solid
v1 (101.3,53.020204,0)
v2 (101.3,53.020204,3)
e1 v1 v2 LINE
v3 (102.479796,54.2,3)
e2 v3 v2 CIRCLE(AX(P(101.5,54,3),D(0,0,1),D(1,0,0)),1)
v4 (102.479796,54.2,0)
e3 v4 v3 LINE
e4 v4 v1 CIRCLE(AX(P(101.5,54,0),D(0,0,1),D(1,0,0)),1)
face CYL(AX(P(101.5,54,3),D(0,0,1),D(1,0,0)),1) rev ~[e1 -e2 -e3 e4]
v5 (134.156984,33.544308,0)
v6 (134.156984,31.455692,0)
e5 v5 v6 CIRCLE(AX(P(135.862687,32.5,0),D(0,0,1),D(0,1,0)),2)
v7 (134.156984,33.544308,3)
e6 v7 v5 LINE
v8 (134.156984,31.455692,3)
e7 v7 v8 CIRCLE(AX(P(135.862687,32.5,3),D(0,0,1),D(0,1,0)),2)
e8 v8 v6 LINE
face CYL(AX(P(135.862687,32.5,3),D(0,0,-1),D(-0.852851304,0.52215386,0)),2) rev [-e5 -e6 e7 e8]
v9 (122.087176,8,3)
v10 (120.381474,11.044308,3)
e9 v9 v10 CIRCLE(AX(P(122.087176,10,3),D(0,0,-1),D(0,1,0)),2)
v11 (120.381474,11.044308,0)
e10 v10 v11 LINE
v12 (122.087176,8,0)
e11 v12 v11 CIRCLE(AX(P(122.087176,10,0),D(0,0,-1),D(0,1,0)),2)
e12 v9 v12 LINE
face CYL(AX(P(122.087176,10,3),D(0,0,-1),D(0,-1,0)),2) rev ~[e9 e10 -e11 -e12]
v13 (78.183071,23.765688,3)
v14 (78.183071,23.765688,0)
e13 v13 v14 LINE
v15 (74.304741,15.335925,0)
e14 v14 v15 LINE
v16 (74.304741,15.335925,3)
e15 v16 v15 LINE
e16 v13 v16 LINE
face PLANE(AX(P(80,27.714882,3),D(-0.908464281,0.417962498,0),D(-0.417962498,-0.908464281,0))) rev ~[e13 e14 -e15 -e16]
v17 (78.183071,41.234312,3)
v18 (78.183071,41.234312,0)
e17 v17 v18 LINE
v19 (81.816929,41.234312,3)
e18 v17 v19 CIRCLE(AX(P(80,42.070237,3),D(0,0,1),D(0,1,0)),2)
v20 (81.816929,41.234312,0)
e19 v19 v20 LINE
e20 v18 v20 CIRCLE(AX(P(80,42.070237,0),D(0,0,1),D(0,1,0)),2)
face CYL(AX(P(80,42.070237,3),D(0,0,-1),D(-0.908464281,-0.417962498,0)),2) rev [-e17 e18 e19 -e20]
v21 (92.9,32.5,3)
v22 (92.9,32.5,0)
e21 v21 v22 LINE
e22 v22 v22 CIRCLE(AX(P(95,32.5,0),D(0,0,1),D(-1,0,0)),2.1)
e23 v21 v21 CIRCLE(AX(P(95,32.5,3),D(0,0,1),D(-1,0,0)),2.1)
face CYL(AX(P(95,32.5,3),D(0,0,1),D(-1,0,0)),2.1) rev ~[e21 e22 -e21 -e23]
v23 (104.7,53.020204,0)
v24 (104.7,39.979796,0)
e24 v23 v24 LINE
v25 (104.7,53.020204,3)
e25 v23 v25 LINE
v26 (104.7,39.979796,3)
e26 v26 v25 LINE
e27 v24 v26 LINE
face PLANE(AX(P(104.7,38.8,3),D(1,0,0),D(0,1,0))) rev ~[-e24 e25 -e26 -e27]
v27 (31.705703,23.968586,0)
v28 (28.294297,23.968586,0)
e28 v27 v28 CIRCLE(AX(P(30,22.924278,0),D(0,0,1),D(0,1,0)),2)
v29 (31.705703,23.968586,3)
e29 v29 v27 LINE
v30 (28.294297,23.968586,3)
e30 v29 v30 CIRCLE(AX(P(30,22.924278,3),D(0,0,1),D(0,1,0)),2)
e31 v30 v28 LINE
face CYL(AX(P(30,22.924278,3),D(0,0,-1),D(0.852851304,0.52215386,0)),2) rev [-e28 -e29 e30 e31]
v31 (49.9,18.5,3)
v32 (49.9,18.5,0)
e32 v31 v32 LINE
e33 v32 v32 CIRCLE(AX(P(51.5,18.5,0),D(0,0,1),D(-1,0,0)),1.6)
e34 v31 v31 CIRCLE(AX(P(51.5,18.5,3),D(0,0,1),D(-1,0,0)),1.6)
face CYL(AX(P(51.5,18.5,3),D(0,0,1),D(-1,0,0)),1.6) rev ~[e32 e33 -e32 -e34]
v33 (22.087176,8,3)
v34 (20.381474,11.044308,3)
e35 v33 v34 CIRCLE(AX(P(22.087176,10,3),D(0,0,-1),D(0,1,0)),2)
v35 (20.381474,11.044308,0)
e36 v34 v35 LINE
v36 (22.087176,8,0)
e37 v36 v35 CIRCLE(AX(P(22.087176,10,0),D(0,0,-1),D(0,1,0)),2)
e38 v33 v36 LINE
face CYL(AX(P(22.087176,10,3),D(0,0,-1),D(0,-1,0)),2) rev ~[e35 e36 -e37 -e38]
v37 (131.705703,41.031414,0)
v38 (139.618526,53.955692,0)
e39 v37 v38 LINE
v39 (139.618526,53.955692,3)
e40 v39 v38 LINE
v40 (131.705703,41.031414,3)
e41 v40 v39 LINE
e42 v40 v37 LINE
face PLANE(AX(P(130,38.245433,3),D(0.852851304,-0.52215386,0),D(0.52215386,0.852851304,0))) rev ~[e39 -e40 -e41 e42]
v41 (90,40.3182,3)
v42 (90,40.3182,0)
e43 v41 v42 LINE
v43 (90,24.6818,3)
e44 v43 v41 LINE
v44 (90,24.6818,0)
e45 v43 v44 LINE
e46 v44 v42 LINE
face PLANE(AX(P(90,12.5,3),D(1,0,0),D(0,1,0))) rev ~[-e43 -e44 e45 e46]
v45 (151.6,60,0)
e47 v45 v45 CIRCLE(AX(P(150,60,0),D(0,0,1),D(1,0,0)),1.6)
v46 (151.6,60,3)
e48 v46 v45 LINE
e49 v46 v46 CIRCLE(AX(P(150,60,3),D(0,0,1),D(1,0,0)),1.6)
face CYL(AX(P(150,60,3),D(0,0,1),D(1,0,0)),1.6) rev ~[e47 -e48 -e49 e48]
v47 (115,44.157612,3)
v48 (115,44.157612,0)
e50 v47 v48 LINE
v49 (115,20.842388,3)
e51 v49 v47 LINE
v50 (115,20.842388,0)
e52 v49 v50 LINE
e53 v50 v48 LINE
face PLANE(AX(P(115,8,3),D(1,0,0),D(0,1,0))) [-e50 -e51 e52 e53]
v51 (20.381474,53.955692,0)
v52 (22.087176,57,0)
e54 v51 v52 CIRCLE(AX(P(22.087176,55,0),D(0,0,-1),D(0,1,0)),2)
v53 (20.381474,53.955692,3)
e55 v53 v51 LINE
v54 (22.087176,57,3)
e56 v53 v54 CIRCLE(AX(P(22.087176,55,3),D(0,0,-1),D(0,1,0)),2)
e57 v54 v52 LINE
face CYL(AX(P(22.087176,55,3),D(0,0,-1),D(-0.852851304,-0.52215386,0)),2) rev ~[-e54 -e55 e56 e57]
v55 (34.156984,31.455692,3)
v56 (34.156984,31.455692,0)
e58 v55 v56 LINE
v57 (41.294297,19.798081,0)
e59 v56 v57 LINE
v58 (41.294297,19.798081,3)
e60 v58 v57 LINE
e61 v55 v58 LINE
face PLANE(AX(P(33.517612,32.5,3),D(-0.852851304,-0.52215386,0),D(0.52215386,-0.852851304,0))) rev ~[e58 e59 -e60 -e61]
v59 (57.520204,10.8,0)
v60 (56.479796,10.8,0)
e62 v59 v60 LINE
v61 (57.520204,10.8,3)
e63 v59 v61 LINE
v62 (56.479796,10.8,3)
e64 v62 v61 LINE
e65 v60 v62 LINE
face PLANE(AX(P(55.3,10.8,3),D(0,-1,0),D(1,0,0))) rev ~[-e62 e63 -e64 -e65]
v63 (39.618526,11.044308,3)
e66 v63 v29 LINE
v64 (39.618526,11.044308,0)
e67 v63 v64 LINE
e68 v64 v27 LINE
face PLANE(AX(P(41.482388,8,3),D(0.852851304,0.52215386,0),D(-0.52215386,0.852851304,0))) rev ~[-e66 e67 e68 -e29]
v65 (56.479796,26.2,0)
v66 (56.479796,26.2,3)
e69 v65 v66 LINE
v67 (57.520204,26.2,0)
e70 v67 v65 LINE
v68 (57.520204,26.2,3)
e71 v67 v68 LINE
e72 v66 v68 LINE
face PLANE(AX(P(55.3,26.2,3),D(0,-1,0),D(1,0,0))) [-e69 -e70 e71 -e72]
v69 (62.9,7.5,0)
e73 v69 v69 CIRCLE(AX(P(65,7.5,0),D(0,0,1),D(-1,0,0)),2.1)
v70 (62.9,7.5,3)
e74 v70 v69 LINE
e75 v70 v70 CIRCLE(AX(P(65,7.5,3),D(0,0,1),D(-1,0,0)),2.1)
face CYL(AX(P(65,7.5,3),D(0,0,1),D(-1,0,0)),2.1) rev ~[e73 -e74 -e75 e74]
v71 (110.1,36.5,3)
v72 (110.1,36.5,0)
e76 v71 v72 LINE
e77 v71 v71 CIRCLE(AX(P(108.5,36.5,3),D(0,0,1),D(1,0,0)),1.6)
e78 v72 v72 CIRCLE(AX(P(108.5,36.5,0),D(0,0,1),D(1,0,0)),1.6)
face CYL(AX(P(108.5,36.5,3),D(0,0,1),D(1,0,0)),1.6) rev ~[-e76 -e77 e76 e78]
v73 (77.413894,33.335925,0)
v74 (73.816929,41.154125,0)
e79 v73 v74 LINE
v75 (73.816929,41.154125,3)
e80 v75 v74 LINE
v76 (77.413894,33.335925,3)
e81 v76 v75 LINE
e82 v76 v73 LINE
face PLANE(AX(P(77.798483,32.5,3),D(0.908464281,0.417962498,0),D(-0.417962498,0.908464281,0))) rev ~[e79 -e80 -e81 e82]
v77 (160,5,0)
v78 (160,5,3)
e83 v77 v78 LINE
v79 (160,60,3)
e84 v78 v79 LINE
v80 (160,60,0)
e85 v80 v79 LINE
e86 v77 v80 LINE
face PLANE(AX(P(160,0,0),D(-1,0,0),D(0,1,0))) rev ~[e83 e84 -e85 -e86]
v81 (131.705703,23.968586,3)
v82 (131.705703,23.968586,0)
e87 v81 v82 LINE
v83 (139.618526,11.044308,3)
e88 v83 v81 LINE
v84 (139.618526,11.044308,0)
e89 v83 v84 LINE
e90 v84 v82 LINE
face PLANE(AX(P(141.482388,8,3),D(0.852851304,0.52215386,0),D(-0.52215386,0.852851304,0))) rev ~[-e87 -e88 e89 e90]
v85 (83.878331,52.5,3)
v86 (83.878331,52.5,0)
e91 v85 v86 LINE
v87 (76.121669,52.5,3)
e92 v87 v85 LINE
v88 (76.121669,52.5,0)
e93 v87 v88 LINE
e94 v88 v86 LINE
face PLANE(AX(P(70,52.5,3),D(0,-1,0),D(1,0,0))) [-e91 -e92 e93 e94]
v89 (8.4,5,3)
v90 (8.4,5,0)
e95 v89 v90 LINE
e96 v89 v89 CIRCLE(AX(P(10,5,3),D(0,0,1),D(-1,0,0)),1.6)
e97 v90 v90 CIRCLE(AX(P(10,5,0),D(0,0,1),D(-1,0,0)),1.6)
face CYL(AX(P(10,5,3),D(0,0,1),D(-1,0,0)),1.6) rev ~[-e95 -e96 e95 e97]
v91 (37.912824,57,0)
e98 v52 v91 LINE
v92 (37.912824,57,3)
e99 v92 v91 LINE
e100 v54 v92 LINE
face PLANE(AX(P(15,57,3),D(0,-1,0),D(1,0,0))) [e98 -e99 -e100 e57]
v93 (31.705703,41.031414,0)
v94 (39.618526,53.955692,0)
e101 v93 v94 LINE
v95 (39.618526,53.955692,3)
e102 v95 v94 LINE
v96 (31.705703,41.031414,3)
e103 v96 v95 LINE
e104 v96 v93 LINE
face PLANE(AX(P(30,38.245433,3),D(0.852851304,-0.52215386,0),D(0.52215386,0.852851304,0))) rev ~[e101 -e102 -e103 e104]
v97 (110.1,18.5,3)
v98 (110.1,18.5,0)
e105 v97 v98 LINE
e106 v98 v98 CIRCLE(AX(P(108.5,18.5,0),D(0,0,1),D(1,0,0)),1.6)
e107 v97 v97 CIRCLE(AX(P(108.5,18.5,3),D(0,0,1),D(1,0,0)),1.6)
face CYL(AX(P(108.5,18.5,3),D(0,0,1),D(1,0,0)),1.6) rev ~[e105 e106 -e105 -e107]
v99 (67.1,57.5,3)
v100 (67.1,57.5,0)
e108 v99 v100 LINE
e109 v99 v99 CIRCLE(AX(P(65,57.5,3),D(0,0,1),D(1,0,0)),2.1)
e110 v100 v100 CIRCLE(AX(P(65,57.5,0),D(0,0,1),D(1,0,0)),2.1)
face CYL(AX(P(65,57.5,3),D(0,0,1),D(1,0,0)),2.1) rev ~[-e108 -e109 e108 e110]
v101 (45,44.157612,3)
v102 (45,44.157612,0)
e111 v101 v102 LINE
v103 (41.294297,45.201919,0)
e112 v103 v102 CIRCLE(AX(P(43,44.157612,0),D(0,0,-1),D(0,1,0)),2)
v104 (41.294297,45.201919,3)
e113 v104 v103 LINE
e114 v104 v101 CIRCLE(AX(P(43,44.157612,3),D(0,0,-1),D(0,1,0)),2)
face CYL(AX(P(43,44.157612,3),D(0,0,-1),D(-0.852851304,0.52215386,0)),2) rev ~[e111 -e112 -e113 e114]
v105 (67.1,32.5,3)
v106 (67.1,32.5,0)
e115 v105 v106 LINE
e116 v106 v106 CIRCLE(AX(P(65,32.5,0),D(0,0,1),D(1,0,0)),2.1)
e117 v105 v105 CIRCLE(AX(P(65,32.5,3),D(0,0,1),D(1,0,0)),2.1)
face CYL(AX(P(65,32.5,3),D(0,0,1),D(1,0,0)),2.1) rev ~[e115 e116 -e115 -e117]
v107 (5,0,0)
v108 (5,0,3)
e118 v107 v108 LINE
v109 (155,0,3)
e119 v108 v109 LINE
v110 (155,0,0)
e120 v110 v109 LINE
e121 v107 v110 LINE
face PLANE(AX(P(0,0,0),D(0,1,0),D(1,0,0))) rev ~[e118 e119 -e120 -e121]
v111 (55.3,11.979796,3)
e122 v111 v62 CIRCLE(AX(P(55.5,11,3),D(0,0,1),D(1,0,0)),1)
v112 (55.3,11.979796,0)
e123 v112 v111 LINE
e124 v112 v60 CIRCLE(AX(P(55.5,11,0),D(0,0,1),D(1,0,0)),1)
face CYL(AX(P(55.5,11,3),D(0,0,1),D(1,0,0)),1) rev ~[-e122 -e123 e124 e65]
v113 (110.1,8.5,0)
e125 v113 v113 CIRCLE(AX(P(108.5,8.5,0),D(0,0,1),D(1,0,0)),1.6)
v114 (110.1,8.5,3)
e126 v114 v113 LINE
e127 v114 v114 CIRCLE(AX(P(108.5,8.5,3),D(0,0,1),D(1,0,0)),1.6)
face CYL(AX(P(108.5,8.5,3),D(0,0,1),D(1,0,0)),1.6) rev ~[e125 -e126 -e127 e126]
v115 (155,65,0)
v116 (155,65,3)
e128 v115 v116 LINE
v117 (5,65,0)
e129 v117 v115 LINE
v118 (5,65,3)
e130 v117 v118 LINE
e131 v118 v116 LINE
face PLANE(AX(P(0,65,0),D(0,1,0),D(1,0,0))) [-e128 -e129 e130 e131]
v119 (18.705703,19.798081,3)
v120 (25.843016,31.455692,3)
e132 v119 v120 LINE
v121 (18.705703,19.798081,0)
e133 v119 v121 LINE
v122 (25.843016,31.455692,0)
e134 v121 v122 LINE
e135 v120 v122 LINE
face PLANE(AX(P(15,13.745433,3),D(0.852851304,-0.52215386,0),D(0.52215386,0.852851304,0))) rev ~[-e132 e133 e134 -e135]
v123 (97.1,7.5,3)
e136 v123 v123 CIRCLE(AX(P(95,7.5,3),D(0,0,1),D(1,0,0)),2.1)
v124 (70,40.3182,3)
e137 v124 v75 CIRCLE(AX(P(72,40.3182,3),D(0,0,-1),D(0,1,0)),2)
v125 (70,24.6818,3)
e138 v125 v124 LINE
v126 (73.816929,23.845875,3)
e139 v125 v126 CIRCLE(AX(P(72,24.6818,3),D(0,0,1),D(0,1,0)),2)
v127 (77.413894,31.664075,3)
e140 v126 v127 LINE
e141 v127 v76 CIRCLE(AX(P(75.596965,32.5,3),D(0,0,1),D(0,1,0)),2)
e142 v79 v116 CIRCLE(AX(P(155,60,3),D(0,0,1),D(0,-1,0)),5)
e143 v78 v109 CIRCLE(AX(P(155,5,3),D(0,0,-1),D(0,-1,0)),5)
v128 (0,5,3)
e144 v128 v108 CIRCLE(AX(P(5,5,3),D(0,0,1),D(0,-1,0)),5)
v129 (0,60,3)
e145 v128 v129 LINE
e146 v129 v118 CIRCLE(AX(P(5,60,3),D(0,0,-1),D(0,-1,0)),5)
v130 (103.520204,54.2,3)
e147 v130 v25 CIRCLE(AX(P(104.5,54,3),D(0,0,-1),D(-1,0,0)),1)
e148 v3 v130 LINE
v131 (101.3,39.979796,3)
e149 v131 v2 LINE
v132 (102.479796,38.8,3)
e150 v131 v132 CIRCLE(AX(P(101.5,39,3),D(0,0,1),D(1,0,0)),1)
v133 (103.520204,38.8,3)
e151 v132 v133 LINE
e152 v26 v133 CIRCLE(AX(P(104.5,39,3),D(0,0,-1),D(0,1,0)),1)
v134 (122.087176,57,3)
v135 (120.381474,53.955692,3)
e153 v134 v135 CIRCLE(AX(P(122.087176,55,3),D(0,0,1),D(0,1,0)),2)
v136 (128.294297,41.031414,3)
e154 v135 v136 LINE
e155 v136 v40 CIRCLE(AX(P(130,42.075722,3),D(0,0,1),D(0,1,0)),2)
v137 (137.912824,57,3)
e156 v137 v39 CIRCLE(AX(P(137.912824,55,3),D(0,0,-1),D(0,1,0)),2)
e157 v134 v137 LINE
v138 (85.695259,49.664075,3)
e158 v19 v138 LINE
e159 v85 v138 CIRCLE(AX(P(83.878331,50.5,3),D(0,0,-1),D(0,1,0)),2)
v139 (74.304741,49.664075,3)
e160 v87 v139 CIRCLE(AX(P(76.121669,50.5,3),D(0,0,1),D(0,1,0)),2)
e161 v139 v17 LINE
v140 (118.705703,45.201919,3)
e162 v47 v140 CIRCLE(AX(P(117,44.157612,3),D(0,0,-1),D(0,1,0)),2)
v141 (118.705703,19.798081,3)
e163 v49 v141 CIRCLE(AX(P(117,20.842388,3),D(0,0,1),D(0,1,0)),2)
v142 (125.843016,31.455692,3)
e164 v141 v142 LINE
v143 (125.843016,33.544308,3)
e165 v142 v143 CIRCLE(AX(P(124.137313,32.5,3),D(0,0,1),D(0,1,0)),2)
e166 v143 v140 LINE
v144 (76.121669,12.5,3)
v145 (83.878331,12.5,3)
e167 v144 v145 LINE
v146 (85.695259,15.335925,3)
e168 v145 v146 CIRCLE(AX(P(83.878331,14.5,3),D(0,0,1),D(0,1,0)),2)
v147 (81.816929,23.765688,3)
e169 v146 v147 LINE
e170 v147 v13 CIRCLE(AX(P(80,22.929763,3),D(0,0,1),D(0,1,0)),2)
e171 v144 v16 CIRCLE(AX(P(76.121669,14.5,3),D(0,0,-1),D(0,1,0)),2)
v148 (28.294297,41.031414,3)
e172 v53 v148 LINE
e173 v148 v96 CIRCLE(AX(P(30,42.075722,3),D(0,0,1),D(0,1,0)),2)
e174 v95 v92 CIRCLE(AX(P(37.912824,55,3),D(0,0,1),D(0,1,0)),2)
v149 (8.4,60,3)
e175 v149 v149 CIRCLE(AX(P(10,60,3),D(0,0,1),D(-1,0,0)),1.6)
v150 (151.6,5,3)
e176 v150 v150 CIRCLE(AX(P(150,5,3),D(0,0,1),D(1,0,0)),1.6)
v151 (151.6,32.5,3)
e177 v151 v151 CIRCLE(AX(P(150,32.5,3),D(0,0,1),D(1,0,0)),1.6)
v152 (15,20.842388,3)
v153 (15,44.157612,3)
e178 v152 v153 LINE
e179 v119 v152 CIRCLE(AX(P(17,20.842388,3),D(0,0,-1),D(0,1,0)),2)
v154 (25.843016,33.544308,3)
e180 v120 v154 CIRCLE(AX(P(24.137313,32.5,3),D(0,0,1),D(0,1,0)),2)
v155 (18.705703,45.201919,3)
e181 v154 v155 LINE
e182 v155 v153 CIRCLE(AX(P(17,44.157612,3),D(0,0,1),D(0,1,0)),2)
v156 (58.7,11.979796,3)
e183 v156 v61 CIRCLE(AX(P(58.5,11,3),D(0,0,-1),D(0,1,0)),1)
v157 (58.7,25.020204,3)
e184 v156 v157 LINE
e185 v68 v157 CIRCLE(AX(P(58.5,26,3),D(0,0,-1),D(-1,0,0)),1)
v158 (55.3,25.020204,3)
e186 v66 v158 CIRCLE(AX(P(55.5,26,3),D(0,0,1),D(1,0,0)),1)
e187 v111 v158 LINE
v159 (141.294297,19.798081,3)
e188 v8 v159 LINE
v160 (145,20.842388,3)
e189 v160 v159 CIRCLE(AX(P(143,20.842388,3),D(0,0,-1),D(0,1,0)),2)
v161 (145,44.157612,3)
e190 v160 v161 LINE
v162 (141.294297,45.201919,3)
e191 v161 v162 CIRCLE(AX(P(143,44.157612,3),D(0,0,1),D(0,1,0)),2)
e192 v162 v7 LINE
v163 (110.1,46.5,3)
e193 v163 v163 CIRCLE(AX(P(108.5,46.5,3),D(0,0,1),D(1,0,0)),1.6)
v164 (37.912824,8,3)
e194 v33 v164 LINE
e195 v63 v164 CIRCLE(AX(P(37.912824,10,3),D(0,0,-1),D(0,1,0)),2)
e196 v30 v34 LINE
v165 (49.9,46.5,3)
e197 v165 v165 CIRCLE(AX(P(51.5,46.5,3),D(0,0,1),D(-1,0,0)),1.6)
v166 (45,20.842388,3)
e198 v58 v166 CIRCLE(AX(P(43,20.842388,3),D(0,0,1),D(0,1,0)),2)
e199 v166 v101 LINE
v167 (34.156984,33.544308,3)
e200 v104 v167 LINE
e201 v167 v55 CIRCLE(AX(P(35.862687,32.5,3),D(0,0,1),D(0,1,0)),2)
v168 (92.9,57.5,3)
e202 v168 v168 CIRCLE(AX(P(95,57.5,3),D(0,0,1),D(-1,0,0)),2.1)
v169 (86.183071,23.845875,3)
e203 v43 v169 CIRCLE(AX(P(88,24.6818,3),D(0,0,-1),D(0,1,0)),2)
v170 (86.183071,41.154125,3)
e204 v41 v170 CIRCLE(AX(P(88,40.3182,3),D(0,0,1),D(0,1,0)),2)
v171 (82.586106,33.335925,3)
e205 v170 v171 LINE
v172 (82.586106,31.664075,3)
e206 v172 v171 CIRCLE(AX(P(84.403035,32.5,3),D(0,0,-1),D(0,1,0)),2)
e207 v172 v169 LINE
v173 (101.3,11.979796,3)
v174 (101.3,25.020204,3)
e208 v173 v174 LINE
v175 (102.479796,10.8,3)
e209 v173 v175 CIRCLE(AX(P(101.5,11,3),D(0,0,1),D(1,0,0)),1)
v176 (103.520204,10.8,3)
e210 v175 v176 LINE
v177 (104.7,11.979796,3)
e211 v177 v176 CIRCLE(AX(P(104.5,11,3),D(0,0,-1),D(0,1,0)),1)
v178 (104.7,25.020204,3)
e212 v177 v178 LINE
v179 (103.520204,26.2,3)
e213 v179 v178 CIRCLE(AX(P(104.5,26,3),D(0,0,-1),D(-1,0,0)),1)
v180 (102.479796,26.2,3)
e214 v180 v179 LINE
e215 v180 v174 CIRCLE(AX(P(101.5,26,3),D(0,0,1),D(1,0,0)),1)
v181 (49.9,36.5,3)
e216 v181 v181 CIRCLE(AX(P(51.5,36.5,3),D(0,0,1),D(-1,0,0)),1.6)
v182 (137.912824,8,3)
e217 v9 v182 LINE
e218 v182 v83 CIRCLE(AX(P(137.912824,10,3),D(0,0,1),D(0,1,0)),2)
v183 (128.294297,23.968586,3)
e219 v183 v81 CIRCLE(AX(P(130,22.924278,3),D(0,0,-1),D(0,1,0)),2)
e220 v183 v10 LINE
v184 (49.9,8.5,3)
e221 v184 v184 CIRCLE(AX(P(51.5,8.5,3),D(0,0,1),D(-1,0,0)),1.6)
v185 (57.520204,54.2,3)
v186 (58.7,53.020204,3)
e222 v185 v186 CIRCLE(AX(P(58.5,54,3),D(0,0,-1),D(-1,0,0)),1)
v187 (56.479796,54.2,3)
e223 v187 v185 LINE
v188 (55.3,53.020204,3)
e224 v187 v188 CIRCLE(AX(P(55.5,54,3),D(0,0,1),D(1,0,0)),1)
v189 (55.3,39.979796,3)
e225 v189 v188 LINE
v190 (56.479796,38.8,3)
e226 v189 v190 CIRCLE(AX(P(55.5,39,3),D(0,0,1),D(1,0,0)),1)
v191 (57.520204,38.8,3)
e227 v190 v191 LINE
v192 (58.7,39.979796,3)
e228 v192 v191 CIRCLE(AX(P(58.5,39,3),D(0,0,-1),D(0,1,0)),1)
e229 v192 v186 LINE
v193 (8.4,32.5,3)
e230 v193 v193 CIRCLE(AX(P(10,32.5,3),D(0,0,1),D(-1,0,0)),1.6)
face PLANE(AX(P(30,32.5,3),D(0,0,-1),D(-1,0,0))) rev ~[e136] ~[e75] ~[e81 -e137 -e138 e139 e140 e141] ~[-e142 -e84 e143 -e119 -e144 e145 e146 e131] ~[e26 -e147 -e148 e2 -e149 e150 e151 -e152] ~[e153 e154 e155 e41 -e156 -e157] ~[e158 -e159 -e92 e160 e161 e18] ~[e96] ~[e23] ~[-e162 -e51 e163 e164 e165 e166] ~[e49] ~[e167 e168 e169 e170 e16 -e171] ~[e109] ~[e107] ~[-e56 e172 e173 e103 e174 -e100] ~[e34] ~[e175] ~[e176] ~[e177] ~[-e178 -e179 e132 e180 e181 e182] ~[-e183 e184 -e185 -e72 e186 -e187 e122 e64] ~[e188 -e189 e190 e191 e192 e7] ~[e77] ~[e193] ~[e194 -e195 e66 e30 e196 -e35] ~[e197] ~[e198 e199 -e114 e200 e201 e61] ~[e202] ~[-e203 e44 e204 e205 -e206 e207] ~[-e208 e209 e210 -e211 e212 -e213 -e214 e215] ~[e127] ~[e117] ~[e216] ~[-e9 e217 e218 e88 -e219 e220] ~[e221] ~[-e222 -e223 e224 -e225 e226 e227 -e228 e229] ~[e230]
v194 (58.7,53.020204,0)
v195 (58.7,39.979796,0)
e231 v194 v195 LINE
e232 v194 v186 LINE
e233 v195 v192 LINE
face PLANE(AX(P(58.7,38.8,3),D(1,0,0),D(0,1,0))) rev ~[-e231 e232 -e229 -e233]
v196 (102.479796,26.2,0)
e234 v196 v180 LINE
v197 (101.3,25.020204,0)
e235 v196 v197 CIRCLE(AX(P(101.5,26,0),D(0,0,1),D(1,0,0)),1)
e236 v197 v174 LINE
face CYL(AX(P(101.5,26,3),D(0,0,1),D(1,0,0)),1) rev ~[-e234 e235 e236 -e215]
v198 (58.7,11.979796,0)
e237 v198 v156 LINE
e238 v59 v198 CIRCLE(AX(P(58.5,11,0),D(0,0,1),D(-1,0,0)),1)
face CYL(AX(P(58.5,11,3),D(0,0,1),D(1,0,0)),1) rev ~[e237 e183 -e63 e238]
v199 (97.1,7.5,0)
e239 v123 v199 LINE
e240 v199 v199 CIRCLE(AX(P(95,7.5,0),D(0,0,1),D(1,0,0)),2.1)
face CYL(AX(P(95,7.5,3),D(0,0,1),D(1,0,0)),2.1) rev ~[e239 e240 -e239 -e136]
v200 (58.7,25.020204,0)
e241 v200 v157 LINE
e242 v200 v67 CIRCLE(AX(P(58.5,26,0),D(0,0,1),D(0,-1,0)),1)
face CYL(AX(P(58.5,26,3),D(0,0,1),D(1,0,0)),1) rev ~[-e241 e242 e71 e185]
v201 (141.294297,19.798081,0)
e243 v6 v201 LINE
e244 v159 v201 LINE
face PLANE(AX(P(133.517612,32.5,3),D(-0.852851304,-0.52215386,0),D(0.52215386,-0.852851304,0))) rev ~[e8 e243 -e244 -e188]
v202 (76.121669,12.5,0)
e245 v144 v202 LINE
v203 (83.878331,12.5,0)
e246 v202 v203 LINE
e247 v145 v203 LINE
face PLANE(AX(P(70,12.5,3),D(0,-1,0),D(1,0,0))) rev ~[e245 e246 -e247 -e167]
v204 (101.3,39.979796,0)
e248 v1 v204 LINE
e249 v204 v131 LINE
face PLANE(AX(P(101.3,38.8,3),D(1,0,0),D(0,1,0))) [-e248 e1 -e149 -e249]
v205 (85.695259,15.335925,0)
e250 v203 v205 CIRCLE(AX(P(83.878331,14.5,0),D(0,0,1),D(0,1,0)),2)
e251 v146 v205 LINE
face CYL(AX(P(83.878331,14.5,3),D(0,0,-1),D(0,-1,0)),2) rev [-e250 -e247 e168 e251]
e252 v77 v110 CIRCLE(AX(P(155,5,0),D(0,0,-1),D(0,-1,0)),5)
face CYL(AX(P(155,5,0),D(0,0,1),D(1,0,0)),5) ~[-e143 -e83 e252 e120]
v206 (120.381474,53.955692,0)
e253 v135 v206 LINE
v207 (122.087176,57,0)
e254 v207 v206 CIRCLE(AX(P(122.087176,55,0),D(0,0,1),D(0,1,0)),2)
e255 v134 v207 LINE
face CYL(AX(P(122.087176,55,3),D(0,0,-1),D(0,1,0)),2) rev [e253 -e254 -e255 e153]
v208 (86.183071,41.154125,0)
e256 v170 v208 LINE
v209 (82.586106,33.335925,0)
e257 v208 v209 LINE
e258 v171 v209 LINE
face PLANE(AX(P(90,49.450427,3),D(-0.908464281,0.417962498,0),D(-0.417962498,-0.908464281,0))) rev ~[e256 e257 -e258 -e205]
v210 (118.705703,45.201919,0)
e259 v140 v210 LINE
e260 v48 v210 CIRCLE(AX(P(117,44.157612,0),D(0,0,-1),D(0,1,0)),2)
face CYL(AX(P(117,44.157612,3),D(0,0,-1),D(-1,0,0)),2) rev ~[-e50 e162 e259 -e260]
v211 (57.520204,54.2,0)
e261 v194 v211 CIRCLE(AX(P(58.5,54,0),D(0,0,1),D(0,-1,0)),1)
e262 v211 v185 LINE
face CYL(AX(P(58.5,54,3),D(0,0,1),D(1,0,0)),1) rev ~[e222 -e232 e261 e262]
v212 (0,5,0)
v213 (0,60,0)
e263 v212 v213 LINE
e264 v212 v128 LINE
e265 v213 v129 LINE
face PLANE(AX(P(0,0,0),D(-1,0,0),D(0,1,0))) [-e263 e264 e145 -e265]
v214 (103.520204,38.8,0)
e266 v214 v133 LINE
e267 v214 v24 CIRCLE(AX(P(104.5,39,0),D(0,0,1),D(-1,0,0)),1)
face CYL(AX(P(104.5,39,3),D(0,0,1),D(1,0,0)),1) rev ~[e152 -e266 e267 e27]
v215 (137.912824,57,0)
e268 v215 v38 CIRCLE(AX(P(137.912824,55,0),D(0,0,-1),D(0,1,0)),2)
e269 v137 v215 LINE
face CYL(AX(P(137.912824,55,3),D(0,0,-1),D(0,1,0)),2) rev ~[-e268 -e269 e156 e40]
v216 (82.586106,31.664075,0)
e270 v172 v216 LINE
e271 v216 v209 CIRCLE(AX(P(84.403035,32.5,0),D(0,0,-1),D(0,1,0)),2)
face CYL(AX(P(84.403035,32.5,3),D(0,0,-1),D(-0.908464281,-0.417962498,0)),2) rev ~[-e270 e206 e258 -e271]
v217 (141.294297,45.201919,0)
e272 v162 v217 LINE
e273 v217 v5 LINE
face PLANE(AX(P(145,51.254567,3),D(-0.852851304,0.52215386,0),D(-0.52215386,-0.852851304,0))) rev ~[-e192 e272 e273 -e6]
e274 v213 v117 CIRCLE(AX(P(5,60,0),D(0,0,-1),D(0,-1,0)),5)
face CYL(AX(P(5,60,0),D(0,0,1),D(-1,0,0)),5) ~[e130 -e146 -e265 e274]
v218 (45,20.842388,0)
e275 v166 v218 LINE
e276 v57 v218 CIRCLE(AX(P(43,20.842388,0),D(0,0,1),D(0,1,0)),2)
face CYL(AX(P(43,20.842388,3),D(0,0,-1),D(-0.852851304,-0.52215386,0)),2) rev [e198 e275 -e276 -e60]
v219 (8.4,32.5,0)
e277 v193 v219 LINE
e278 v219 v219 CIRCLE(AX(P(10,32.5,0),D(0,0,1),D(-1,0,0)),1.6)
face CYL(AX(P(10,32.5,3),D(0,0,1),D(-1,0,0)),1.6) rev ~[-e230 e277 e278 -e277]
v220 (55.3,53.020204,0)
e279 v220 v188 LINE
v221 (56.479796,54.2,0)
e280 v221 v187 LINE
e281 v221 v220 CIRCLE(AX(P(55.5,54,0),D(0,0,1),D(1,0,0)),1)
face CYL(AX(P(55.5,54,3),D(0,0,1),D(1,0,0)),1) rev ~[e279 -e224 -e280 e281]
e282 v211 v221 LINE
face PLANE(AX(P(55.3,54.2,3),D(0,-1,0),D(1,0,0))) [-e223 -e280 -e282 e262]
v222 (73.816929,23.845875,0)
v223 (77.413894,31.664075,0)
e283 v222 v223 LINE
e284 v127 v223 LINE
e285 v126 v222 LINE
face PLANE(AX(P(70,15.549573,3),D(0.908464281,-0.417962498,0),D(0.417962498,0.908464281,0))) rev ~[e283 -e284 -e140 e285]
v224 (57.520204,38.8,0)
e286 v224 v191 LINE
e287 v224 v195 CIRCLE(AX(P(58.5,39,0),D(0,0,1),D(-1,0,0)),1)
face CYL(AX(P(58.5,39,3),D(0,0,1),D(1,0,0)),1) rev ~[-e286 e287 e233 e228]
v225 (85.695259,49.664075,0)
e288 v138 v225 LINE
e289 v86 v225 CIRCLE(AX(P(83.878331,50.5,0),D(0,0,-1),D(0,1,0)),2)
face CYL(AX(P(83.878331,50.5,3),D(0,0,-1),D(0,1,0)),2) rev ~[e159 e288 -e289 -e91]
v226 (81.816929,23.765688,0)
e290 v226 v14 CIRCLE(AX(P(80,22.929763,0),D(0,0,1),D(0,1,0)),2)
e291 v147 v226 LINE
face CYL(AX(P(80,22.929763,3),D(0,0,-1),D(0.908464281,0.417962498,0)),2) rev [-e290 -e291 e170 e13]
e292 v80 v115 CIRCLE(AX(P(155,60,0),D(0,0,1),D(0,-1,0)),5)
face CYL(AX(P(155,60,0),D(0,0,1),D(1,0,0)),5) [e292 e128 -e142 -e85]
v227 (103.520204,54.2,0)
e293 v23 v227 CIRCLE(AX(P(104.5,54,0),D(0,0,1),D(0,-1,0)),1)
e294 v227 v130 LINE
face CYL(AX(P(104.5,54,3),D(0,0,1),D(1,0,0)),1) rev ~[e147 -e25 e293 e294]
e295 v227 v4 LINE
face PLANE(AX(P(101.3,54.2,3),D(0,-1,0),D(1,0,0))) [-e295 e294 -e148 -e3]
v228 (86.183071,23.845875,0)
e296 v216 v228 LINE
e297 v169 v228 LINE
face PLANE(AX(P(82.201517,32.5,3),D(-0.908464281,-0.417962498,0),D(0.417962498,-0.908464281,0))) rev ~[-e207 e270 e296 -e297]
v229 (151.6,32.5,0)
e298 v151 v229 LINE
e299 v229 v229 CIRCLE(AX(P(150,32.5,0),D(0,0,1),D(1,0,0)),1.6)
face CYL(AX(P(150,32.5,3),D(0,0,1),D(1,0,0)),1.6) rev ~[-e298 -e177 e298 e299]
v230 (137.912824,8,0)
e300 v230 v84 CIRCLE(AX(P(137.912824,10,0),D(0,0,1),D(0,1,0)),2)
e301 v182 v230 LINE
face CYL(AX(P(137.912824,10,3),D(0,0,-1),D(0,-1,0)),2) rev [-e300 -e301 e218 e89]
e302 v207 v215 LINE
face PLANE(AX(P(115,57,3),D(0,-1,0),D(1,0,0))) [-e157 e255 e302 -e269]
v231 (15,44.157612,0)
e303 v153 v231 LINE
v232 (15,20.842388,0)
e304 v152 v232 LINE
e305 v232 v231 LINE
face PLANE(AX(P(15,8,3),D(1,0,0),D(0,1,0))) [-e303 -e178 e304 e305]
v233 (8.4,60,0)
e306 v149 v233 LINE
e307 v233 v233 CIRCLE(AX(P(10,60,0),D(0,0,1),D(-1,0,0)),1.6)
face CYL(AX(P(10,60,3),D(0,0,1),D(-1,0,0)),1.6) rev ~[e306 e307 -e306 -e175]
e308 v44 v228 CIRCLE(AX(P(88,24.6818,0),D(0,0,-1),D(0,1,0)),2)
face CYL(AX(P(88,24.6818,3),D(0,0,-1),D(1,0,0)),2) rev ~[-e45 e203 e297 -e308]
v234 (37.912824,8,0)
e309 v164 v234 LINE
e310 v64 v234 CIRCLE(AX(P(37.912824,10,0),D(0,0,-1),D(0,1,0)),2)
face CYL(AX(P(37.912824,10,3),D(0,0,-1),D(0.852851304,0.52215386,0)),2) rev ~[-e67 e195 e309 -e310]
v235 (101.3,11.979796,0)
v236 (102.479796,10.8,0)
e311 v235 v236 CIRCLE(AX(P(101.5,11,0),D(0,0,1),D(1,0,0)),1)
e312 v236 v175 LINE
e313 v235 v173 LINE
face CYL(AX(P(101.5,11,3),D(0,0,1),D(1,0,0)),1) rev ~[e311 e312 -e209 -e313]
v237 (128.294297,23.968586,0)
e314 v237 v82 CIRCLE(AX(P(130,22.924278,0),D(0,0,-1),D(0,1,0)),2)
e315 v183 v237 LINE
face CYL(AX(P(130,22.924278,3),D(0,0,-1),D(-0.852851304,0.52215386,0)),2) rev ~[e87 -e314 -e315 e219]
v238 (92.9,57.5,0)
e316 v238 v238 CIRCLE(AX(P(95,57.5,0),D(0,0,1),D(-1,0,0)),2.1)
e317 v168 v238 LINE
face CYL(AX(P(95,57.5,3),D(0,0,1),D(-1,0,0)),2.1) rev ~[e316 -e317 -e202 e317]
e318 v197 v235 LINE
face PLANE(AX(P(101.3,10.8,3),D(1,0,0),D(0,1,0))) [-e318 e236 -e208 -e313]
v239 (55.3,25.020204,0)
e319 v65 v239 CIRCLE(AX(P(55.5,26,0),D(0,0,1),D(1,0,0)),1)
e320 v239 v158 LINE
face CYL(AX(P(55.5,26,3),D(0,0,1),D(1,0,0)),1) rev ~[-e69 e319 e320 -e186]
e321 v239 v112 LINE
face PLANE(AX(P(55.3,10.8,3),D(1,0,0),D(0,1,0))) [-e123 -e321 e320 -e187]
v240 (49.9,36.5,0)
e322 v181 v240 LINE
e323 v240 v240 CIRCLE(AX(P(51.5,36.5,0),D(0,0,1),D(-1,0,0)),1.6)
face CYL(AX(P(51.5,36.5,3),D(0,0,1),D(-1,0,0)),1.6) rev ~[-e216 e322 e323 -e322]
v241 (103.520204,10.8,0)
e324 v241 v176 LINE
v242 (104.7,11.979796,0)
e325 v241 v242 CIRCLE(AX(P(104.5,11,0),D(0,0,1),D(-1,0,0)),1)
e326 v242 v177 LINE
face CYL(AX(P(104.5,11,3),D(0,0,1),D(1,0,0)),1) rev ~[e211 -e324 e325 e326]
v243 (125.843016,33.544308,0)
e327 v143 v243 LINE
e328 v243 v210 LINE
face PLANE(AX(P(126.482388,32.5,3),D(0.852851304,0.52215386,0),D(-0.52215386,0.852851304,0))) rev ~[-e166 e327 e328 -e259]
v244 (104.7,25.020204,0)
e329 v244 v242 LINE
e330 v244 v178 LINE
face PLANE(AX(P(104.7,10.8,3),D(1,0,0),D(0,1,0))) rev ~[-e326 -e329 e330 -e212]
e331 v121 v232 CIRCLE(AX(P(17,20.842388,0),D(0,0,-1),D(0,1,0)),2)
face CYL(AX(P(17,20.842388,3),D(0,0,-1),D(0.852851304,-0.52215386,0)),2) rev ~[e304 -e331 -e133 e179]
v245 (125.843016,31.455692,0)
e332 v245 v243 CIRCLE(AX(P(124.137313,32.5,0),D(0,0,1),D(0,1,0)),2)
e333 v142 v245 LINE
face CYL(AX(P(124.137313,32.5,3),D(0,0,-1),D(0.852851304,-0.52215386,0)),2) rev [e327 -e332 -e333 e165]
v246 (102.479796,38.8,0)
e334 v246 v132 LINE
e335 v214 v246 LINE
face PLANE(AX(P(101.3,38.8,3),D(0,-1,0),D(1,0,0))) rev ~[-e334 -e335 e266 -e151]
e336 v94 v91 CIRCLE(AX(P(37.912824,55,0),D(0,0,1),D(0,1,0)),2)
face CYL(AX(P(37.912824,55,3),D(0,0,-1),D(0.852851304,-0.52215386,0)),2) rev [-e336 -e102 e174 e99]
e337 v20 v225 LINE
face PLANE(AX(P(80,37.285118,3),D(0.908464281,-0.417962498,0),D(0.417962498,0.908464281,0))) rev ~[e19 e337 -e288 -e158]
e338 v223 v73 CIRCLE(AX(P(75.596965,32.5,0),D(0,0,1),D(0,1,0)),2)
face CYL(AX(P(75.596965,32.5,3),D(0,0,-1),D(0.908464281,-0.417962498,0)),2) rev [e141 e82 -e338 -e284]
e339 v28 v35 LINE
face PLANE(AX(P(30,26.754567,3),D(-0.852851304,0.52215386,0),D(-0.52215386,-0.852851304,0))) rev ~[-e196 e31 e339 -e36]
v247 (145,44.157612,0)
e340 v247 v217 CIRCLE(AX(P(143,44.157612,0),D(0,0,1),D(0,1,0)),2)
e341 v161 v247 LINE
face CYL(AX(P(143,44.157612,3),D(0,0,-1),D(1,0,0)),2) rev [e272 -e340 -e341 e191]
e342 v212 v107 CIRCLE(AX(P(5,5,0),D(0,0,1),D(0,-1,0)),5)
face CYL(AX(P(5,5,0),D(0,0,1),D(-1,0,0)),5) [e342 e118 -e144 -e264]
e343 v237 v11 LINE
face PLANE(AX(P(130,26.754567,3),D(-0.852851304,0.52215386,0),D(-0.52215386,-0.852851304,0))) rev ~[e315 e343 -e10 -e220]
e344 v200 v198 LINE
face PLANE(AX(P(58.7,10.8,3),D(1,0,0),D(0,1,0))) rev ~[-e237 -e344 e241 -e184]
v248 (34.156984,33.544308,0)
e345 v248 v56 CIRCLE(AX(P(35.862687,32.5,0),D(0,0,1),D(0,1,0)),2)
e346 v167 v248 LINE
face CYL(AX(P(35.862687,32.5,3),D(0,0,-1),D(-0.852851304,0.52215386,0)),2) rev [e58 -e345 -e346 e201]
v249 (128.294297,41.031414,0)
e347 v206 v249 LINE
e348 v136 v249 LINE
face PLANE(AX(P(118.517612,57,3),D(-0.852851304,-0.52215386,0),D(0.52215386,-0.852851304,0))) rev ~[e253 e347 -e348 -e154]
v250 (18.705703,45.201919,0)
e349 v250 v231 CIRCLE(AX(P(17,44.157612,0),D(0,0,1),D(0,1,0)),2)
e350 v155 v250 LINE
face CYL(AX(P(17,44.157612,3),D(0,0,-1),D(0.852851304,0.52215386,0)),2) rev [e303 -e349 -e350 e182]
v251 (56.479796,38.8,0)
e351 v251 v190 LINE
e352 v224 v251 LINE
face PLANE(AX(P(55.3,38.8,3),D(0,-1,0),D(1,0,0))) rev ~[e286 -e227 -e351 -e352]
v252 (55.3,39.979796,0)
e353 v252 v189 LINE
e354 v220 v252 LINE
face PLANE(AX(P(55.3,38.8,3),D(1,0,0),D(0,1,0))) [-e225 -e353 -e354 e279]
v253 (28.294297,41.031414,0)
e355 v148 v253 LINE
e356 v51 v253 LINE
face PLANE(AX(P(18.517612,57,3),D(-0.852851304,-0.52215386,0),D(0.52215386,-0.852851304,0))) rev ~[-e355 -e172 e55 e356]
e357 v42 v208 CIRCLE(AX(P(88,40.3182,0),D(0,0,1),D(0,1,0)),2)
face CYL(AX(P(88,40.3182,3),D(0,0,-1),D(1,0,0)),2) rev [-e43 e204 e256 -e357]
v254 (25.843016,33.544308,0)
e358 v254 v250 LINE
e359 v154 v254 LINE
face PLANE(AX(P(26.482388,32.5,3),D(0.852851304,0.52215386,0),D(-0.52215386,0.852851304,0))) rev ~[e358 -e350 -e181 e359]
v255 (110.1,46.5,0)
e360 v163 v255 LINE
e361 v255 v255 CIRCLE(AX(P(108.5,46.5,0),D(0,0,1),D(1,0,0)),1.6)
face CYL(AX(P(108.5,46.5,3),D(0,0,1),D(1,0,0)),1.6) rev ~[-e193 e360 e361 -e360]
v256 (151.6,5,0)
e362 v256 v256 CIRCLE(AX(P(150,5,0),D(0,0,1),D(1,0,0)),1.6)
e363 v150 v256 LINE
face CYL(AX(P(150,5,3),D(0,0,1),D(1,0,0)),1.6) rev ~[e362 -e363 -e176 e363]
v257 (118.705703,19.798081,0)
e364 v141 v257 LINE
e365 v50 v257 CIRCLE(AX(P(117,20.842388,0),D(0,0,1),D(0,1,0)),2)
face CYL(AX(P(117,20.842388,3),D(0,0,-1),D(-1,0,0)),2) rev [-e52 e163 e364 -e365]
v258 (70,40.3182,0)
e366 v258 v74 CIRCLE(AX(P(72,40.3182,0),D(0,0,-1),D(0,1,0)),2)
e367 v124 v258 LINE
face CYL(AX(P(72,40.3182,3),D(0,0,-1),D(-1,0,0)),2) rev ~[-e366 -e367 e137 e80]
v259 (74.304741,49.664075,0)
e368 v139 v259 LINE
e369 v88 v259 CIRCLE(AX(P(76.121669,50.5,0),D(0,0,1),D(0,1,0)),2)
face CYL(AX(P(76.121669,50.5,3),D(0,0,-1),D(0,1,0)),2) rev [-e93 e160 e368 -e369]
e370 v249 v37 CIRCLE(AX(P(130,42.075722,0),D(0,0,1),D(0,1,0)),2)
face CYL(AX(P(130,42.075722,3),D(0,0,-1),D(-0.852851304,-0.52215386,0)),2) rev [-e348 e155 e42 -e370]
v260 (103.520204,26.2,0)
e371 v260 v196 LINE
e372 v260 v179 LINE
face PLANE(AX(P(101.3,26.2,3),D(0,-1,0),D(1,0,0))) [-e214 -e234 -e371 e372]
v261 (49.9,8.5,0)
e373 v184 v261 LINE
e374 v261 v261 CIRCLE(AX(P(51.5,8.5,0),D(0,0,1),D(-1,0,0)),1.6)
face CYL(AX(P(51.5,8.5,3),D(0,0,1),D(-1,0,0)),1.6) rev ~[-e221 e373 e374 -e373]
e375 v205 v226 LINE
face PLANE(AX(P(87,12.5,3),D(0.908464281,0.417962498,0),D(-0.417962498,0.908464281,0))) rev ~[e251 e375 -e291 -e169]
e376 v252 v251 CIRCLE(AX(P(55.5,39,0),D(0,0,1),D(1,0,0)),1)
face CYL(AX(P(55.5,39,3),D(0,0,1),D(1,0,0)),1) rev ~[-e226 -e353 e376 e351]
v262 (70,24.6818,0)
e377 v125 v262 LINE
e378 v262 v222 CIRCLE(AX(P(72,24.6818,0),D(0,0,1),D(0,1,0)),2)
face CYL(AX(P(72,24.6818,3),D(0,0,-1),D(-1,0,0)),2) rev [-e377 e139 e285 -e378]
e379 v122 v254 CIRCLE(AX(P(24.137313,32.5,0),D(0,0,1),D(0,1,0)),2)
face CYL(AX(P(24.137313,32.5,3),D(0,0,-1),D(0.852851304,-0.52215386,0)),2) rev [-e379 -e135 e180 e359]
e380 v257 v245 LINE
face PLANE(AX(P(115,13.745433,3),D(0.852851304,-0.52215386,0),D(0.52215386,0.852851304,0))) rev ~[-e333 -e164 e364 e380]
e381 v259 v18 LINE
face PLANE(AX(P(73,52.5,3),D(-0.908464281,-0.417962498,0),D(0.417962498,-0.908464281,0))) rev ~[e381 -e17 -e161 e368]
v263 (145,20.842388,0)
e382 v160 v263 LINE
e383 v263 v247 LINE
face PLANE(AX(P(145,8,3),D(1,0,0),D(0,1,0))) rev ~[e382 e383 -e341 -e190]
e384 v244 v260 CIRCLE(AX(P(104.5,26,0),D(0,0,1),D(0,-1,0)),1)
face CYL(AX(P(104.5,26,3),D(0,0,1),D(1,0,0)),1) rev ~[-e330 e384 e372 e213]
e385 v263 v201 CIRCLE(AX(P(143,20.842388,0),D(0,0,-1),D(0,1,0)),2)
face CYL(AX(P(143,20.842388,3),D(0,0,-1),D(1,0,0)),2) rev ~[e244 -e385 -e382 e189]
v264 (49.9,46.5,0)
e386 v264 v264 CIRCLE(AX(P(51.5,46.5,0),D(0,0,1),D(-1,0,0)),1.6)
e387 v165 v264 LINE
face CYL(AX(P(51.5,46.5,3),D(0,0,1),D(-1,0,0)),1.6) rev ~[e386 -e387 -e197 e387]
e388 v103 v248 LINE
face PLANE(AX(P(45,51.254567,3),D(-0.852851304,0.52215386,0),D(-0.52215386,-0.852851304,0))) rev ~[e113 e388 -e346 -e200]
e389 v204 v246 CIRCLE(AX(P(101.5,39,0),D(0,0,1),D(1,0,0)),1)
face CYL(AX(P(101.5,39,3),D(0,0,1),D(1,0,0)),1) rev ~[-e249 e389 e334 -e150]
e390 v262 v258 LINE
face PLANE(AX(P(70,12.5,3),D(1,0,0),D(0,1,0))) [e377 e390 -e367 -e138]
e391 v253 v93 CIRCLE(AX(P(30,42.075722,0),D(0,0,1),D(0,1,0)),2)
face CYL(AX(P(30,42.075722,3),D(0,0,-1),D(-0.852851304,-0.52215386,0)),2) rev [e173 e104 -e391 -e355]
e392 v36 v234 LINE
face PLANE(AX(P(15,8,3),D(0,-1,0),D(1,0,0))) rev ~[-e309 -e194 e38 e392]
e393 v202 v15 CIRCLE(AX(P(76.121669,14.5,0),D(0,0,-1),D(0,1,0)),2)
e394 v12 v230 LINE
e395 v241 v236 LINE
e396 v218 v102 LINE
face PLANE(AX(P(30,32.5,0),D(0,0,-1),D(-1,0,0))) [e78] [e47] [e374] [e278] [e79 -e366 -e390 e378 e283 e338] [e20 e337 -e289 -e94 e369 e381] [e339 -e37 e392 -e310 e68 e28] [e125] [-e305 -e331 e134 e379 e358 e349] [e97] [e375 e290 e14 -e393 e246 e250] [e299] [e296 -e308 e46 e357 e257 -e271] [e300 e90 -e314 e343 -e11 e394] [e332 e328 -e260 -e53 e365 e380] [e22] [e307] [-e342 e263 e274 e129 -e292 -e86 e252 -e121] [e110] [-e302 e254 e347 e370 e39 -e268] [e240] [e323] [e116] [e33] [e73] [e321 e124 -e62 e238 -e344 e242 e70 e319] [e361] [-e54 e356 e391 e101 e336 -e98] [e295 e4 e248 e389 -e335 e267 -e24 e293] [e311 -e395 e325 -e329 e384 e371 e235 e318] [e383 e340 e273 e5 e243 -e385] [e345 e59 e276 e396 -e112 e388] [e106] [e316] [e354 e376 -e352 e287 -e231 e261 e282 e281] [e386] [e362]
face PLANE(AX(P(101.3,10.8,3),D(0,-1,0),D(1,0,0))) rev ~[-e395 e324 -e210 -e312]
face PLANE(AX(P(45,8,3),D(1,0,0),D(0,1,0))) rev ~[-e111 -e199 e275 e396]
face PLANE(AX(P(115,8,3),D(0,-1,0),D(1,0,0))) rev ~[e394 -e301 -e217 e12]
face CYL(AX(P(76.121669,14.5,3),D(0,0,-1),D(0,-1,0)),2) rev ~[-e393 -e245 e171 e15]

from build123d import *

# Parameters (mm, degrees)
SKETCH_1_W          = 160
SKETCH_1_H          = 65
EXTRUDE_1_DEPTH     = 3
SKETCH_2_R          = 1.6
CUT_EXTRUDE_1_DEPTH = 173.725215299
SKETCH_3_R          = 2.1
CUT_EXTRUDE_2_DEPTH = 173.725215299
SKETCH_4_W          = 3
SKETCH_4_H          = 15
CUT_EXTRUDE_3_DEPTH = 173.725215299
SKETCH_5_R          = 1
CUT_EXTRUDE_4_DEPTH = 173.725215299
FILLET_1_R          = 5
SKETCH_6_R          = 1.6
CUT_EXTRUDE_5_DEPTH = 10
SKETCH_7_W          = 30
SKETCH_7_H          = 49
CUT_EXTRUDE_6_DEPTH = 10
SKETCH_8_W          = 20
SKETCH_8_H          = 40
CUT_EXTRUDE_7_DEPTH = 10
EXTRUDE_2_DEPTH     = 3
FILLET_3_R          = 2
SKETCH_10_W         = 3.4
SKETCH_10_H         = 15.4
CUT_EXTRUDE_8_DEPTH = 173.725215299


with BuildPart() as part:
    # 草图1 → 凸台-拉伸1 (new body)
    with BuildSketch(Plane.XY):
        with Locations((80, 32.5)):
            Rectangle(SKETCH_1_W, SKETCH_1_H)
    extrude(amount=EXTRUDE_1_DEPTH)

    # 草图2 → 切除-拉伸1 (cut, through all)
    with BuildSketch(Plane.XY.offset(3)):
        with Locations((150, 60)):
            Circle(SKETCH_2_R)
        with Locations((150, 32.5)):
            Circle(SKETCH_2_R)
        with Locations((150, 5)):
            Circle(SKETCH_2_R)
        with Locations(Location((10, 5, 0), (0, 0, 180))):
            Circle(SKETCH_2_R)
        with Locations(Location((10, 32.5, 0), (0, 0, 180))):
            Circle(SKETCH_2_R)
        with Locations(Location((10, 60, 0), (0, 0, 180))):
            Circle(SKETCH_2_R)
    extrude(amount=-CUT_EXTRUDE_1_DEPTH, mode=Mode.SUBTRACT)

    # 草图3 → 切除-拉伸2 (cut, through all)
    with BuildSketch(Plane.XY.offset(3)):
        with Locations((65, 57.5)):
            Circle(SKETCH_3_R)
        with Locations((65, 32.5)):
            Circle(SKETCH_3_R)
        with Locations(Location((65, 7.5, 0), (0, 0, 180))):
            Circle(SKETCH_3_R)
        with Locations((95, 7.5)):
            Circle(SKETCH_3_R)
        with Locations(Location((95, 32.5, 0), (0, 0, 180))):
            Circle(SKETCH_3_R)
        with Locations(Location((95, 57.5, 0), (0, 0, 180))):
            Circle(SKETCH_3_R)
    extrude(amount=-CUT_EXTRUDE_2_DEPTH, mode=Mode.SUBTRACT)

    # 草图4 → 切除-拉伸3 (cut, through all)
    with BuildSketch(Plane.XY.offset(3)):
        with Locations((57, 46.5)):
            Rectangle(SKETCH_4_W, SKETCH_4_H)
        with Locations((57, 18.5)):
            Rectangle(SKETCH_4_W, SKETCH_4_H)
        with Locations((103, 18.5)):
            Rectangle(SKETCH_4_W, SKETCH_4_H)
        with Locations((103, 46.5)):
            Rectangle(SKETCH_4_W, SKETCH_4_H)
    extrude(amount=-CUT_EXTRUDE_3_DEPTH, mode=Mode.SUBTRACT)

    # 草图5 → 切除-拉伸4 (cut, through all)
    with BuildSketch(Plane.XY.offset(3)):
        with Locations((58.5, 54)):
            Circle(SKETCH_5_R)
        with Locations((55.5, 54)):
            Circle(SKETCH_5_R)
        with Locations((58.5, 39)):
            Circle(SKETCH_5_R)
        with Locations((55.5, 39)):
            Circle(SKETCH_5_R)
        with Locations((58.5, 26)):
            Circle(SKETCH_5_R)
        with Locations((55.5, 26)):
            Circle(SKETCH_5_R)
        with Locations((58.5, 11)):
            Circle(SKETCH_5_R)
        with Locations((55.5, 11)):
            Circle(SKETCH_5_R)
        with Locations((104.5, 54)):
            Circle(SKETCH_5_R)
        with Locations((101.5, 54)):
            Circle(SKETCH_5_R)
        with Locations((104.5, 39)):
            Circle(SKETCH_5_R)
        with Locations((101.5, 39)):
            Circle(SKETCH_5_R)
        with Locations((104.5, 26)):
            Circle(SKETCH_5_R)
        with Locations((101.5, 26)):
            Circle(SKETCH_5_R)
        with Locations((104.5, 11)):
            Circle(SKETCH_5_R)
        with Locations((101.5, 11)):
            Circle(SKETCH_5_R)
    extrude(amount=-CUT_EXTRUDE_4_DEPTH, mode=Mode.SUBTRACT)

    # 圆角1
    fillet_1_edges = [part.edges().sort_by_distance(p)[0] for p in [
        (0, 65, 1.5),
        (160, 65, 1.5),
        (160, 0, 1.5),
        (0, 0, 1.5),
    ]]
    fillet(fillet_1_edges, radius=FILLET_1_R)

    # 草图6 → 切除-拉伸5 (cut)
    with BuildSketch(Plane.XY.offset(3)):
        with Locations((108.5, 46.5)):
            Circle(SKETCH_6_R)
        with Locations((108.5, 36.5)):
            Circle(SKETCH_6_R)
        with Locations((108.5, 18.5)):
            Circle(SKETCH_6_R)
        with Locations((108.5, 8.5)):
            Circle(SKETCH_6_R)
        with Locations(Location((51.5, 8.5, 0), (0, 0, 180))):
            Circle(SKETCH_6_R)
        with Locations(Location((51.5, 18.5, 0), (0, 0, 180))):
            Circle(SKETCH_6_R)
        with Locations(Location((51.5, 36.5, 0), (0, 0, 180))):
            Circle(SKETCH_6_R)
        with Locations(Location((51.5, 46.5, 0), (0, 0, 180))):
            Circle(SKETCH_6_R)
    extrude(amount=-CUT_EXTRUDE_5_DEPTH, mode=Mode.SUBTRACT)

    # 草图7 → 切除-拉伸6 (cut)
    with BuildSketch(Plane.XY.offset(3)):
        with Locations((130, 32.5)):
            Rectangle(SKETCH_7_W, SKETCH_7_H)
        with Locations((30, 32.5)):
            Rectangle(SKETCH_7_W, SKETCH_7_H)
    extrude(amount=-CUT_EXTRUDE_6_DEPTH, mode=Mode.SUBTRACT)

    # 草图8 → 切除-拉伸7 (cut)
    with BuildSketch(Plane.XY.offset(3)):
        with Locations((80, 32.5)):
            Rectangle(SKETCH_8_W, SKETCH_8_H)
    extrude(amount=-CUT_EXTRUDE_7_DEPTH, mode=Mode.SUBTRACT)

    # 草图9 → 凸台-拉伸2 (add, through all)
    with BuildSketch(Plane.XY.offset(3)):
        Polygon((45, 13.745432969), (45, 8), (41.482387978, 8), (30, 26.754567031), (18.517612022, 8), (15, 8), (15, 13.745432969), (26.482387978, 32.5), (15, 51.254567031), (15, 57), (18.517612022, 57), (30, 38.245432969), (41.482387978, 57), (45, 57), (45, 51.254567031), (33.517612022, 32.5), align=None)
        Polygon((82.201517486, 32.5), (90, 15.549573016), (90, 12.5), (87, 12.5), (80, 27.714881699), (73, 12.5), (70, 12.5), (70, 15.549573016), (77.798482514, 32.5), (70, 49.450426984), (70, 52.5), (73, 52.5), (80, 37.285118301), (87, 52.5), (90, 52.5), (90, 49.450426984), align=None)
        Polygon((130, 26.754567031), (118.517612022, 8), (115, 8), (115, 13.745432969), (126.482387978, 32.5), (115, 51.254567031), (115, 57), (118.517612022, 57), (130, 38.245432969), (141.482387978, 57), (145, 57), (145, 51.254567031), (133.517612022, 32.5), (145, 13.745432969), (145, 8), (141.482387978, 8), align=None)
    extrude(amount=-EXTRUDE_2_DEPTH)

    # 圆角3
    fillet_3_edges = [part.edges().sort_by_distance(p)[0] for p in [
        (45, 13.745432969, 1.5),
        (41.482387978, 8, 1.5),
        (30, 26.754567031, 1.5),
        (18.517612022, 8, 1.5),
        (15, 13.745432969, 1.5),
        (26.482387978, 32.5, 1.5),
        (15, 51.254567031, 1.5),
        (18.517612022, 57, 1.5),
        (30, 38.245432969, 1.5),
        (41.482387978, 57, 1.5),
        (45, 51.254567031, 1.5),
        (33.517612022, 32.5, 1.5),
        (82.201517486, 32.5, 1.5),
        (90, 15.549573016, 1.5),
        (87, 12.5, 1.5),
        (80, 27.714881699, 1.5),
        (73, 12.5, 1.5),
        (70, 15.549573016, 1.5),
        (77.798482514, 32.5, 1.5),
        (70, 49.450426984, 1.5),
        (73, 52.5, 1.5),
        (80, 37.285118301, 1.5),
        (87, 52.5, 1.5),
        (90, 49.450426984, 1.5),
        (130, 26.754567031, 1.5),
        (118.517612022, 8, 1.5),
        (115, 13.745432969, 1.5),
        (126.482387978, 32.5, 1.5),
        (115, 51.254567031, 1.5),
        (118.517612022, 57, 1.5),
        (130, 38.245432969, 1.5),
        (141.482387978, 57, 1.5),
        (145, 51.254567031, 1.5),
        (133.517612022, 32.5, 1.5),
        (145, 13.745432969, 1.5),
        (141.482387978, 8, 1.5),
    ]]
    fillet(fillet_3_edges, radius=FILLET_3_R)

    # 草图10 → 切除-拉伸8 (cut, through all)
    with BuildSketch(Plane.XY.offset(3)):
        with Locations((103, 46.5)):
            Rectangle(SKETCH_10_W, SKETCH_10_H)
        with Locations((103, 18.5)):
            Rectangle(SKETCH_10_W, SKETCH_10_H)
        with Locations((57, 18.5)):
            Rectangle(SKETCH_10_W, SKETCH_10_H)
        with Locations((57, 46.5)):
            Rectangle(SKETCH_10_W, SKETCH_10_H)
    extrude(amount=-CUT_EXTRUDE_8_DEPTH, mode=Mode.SUBTRACT)


solid = part.part
